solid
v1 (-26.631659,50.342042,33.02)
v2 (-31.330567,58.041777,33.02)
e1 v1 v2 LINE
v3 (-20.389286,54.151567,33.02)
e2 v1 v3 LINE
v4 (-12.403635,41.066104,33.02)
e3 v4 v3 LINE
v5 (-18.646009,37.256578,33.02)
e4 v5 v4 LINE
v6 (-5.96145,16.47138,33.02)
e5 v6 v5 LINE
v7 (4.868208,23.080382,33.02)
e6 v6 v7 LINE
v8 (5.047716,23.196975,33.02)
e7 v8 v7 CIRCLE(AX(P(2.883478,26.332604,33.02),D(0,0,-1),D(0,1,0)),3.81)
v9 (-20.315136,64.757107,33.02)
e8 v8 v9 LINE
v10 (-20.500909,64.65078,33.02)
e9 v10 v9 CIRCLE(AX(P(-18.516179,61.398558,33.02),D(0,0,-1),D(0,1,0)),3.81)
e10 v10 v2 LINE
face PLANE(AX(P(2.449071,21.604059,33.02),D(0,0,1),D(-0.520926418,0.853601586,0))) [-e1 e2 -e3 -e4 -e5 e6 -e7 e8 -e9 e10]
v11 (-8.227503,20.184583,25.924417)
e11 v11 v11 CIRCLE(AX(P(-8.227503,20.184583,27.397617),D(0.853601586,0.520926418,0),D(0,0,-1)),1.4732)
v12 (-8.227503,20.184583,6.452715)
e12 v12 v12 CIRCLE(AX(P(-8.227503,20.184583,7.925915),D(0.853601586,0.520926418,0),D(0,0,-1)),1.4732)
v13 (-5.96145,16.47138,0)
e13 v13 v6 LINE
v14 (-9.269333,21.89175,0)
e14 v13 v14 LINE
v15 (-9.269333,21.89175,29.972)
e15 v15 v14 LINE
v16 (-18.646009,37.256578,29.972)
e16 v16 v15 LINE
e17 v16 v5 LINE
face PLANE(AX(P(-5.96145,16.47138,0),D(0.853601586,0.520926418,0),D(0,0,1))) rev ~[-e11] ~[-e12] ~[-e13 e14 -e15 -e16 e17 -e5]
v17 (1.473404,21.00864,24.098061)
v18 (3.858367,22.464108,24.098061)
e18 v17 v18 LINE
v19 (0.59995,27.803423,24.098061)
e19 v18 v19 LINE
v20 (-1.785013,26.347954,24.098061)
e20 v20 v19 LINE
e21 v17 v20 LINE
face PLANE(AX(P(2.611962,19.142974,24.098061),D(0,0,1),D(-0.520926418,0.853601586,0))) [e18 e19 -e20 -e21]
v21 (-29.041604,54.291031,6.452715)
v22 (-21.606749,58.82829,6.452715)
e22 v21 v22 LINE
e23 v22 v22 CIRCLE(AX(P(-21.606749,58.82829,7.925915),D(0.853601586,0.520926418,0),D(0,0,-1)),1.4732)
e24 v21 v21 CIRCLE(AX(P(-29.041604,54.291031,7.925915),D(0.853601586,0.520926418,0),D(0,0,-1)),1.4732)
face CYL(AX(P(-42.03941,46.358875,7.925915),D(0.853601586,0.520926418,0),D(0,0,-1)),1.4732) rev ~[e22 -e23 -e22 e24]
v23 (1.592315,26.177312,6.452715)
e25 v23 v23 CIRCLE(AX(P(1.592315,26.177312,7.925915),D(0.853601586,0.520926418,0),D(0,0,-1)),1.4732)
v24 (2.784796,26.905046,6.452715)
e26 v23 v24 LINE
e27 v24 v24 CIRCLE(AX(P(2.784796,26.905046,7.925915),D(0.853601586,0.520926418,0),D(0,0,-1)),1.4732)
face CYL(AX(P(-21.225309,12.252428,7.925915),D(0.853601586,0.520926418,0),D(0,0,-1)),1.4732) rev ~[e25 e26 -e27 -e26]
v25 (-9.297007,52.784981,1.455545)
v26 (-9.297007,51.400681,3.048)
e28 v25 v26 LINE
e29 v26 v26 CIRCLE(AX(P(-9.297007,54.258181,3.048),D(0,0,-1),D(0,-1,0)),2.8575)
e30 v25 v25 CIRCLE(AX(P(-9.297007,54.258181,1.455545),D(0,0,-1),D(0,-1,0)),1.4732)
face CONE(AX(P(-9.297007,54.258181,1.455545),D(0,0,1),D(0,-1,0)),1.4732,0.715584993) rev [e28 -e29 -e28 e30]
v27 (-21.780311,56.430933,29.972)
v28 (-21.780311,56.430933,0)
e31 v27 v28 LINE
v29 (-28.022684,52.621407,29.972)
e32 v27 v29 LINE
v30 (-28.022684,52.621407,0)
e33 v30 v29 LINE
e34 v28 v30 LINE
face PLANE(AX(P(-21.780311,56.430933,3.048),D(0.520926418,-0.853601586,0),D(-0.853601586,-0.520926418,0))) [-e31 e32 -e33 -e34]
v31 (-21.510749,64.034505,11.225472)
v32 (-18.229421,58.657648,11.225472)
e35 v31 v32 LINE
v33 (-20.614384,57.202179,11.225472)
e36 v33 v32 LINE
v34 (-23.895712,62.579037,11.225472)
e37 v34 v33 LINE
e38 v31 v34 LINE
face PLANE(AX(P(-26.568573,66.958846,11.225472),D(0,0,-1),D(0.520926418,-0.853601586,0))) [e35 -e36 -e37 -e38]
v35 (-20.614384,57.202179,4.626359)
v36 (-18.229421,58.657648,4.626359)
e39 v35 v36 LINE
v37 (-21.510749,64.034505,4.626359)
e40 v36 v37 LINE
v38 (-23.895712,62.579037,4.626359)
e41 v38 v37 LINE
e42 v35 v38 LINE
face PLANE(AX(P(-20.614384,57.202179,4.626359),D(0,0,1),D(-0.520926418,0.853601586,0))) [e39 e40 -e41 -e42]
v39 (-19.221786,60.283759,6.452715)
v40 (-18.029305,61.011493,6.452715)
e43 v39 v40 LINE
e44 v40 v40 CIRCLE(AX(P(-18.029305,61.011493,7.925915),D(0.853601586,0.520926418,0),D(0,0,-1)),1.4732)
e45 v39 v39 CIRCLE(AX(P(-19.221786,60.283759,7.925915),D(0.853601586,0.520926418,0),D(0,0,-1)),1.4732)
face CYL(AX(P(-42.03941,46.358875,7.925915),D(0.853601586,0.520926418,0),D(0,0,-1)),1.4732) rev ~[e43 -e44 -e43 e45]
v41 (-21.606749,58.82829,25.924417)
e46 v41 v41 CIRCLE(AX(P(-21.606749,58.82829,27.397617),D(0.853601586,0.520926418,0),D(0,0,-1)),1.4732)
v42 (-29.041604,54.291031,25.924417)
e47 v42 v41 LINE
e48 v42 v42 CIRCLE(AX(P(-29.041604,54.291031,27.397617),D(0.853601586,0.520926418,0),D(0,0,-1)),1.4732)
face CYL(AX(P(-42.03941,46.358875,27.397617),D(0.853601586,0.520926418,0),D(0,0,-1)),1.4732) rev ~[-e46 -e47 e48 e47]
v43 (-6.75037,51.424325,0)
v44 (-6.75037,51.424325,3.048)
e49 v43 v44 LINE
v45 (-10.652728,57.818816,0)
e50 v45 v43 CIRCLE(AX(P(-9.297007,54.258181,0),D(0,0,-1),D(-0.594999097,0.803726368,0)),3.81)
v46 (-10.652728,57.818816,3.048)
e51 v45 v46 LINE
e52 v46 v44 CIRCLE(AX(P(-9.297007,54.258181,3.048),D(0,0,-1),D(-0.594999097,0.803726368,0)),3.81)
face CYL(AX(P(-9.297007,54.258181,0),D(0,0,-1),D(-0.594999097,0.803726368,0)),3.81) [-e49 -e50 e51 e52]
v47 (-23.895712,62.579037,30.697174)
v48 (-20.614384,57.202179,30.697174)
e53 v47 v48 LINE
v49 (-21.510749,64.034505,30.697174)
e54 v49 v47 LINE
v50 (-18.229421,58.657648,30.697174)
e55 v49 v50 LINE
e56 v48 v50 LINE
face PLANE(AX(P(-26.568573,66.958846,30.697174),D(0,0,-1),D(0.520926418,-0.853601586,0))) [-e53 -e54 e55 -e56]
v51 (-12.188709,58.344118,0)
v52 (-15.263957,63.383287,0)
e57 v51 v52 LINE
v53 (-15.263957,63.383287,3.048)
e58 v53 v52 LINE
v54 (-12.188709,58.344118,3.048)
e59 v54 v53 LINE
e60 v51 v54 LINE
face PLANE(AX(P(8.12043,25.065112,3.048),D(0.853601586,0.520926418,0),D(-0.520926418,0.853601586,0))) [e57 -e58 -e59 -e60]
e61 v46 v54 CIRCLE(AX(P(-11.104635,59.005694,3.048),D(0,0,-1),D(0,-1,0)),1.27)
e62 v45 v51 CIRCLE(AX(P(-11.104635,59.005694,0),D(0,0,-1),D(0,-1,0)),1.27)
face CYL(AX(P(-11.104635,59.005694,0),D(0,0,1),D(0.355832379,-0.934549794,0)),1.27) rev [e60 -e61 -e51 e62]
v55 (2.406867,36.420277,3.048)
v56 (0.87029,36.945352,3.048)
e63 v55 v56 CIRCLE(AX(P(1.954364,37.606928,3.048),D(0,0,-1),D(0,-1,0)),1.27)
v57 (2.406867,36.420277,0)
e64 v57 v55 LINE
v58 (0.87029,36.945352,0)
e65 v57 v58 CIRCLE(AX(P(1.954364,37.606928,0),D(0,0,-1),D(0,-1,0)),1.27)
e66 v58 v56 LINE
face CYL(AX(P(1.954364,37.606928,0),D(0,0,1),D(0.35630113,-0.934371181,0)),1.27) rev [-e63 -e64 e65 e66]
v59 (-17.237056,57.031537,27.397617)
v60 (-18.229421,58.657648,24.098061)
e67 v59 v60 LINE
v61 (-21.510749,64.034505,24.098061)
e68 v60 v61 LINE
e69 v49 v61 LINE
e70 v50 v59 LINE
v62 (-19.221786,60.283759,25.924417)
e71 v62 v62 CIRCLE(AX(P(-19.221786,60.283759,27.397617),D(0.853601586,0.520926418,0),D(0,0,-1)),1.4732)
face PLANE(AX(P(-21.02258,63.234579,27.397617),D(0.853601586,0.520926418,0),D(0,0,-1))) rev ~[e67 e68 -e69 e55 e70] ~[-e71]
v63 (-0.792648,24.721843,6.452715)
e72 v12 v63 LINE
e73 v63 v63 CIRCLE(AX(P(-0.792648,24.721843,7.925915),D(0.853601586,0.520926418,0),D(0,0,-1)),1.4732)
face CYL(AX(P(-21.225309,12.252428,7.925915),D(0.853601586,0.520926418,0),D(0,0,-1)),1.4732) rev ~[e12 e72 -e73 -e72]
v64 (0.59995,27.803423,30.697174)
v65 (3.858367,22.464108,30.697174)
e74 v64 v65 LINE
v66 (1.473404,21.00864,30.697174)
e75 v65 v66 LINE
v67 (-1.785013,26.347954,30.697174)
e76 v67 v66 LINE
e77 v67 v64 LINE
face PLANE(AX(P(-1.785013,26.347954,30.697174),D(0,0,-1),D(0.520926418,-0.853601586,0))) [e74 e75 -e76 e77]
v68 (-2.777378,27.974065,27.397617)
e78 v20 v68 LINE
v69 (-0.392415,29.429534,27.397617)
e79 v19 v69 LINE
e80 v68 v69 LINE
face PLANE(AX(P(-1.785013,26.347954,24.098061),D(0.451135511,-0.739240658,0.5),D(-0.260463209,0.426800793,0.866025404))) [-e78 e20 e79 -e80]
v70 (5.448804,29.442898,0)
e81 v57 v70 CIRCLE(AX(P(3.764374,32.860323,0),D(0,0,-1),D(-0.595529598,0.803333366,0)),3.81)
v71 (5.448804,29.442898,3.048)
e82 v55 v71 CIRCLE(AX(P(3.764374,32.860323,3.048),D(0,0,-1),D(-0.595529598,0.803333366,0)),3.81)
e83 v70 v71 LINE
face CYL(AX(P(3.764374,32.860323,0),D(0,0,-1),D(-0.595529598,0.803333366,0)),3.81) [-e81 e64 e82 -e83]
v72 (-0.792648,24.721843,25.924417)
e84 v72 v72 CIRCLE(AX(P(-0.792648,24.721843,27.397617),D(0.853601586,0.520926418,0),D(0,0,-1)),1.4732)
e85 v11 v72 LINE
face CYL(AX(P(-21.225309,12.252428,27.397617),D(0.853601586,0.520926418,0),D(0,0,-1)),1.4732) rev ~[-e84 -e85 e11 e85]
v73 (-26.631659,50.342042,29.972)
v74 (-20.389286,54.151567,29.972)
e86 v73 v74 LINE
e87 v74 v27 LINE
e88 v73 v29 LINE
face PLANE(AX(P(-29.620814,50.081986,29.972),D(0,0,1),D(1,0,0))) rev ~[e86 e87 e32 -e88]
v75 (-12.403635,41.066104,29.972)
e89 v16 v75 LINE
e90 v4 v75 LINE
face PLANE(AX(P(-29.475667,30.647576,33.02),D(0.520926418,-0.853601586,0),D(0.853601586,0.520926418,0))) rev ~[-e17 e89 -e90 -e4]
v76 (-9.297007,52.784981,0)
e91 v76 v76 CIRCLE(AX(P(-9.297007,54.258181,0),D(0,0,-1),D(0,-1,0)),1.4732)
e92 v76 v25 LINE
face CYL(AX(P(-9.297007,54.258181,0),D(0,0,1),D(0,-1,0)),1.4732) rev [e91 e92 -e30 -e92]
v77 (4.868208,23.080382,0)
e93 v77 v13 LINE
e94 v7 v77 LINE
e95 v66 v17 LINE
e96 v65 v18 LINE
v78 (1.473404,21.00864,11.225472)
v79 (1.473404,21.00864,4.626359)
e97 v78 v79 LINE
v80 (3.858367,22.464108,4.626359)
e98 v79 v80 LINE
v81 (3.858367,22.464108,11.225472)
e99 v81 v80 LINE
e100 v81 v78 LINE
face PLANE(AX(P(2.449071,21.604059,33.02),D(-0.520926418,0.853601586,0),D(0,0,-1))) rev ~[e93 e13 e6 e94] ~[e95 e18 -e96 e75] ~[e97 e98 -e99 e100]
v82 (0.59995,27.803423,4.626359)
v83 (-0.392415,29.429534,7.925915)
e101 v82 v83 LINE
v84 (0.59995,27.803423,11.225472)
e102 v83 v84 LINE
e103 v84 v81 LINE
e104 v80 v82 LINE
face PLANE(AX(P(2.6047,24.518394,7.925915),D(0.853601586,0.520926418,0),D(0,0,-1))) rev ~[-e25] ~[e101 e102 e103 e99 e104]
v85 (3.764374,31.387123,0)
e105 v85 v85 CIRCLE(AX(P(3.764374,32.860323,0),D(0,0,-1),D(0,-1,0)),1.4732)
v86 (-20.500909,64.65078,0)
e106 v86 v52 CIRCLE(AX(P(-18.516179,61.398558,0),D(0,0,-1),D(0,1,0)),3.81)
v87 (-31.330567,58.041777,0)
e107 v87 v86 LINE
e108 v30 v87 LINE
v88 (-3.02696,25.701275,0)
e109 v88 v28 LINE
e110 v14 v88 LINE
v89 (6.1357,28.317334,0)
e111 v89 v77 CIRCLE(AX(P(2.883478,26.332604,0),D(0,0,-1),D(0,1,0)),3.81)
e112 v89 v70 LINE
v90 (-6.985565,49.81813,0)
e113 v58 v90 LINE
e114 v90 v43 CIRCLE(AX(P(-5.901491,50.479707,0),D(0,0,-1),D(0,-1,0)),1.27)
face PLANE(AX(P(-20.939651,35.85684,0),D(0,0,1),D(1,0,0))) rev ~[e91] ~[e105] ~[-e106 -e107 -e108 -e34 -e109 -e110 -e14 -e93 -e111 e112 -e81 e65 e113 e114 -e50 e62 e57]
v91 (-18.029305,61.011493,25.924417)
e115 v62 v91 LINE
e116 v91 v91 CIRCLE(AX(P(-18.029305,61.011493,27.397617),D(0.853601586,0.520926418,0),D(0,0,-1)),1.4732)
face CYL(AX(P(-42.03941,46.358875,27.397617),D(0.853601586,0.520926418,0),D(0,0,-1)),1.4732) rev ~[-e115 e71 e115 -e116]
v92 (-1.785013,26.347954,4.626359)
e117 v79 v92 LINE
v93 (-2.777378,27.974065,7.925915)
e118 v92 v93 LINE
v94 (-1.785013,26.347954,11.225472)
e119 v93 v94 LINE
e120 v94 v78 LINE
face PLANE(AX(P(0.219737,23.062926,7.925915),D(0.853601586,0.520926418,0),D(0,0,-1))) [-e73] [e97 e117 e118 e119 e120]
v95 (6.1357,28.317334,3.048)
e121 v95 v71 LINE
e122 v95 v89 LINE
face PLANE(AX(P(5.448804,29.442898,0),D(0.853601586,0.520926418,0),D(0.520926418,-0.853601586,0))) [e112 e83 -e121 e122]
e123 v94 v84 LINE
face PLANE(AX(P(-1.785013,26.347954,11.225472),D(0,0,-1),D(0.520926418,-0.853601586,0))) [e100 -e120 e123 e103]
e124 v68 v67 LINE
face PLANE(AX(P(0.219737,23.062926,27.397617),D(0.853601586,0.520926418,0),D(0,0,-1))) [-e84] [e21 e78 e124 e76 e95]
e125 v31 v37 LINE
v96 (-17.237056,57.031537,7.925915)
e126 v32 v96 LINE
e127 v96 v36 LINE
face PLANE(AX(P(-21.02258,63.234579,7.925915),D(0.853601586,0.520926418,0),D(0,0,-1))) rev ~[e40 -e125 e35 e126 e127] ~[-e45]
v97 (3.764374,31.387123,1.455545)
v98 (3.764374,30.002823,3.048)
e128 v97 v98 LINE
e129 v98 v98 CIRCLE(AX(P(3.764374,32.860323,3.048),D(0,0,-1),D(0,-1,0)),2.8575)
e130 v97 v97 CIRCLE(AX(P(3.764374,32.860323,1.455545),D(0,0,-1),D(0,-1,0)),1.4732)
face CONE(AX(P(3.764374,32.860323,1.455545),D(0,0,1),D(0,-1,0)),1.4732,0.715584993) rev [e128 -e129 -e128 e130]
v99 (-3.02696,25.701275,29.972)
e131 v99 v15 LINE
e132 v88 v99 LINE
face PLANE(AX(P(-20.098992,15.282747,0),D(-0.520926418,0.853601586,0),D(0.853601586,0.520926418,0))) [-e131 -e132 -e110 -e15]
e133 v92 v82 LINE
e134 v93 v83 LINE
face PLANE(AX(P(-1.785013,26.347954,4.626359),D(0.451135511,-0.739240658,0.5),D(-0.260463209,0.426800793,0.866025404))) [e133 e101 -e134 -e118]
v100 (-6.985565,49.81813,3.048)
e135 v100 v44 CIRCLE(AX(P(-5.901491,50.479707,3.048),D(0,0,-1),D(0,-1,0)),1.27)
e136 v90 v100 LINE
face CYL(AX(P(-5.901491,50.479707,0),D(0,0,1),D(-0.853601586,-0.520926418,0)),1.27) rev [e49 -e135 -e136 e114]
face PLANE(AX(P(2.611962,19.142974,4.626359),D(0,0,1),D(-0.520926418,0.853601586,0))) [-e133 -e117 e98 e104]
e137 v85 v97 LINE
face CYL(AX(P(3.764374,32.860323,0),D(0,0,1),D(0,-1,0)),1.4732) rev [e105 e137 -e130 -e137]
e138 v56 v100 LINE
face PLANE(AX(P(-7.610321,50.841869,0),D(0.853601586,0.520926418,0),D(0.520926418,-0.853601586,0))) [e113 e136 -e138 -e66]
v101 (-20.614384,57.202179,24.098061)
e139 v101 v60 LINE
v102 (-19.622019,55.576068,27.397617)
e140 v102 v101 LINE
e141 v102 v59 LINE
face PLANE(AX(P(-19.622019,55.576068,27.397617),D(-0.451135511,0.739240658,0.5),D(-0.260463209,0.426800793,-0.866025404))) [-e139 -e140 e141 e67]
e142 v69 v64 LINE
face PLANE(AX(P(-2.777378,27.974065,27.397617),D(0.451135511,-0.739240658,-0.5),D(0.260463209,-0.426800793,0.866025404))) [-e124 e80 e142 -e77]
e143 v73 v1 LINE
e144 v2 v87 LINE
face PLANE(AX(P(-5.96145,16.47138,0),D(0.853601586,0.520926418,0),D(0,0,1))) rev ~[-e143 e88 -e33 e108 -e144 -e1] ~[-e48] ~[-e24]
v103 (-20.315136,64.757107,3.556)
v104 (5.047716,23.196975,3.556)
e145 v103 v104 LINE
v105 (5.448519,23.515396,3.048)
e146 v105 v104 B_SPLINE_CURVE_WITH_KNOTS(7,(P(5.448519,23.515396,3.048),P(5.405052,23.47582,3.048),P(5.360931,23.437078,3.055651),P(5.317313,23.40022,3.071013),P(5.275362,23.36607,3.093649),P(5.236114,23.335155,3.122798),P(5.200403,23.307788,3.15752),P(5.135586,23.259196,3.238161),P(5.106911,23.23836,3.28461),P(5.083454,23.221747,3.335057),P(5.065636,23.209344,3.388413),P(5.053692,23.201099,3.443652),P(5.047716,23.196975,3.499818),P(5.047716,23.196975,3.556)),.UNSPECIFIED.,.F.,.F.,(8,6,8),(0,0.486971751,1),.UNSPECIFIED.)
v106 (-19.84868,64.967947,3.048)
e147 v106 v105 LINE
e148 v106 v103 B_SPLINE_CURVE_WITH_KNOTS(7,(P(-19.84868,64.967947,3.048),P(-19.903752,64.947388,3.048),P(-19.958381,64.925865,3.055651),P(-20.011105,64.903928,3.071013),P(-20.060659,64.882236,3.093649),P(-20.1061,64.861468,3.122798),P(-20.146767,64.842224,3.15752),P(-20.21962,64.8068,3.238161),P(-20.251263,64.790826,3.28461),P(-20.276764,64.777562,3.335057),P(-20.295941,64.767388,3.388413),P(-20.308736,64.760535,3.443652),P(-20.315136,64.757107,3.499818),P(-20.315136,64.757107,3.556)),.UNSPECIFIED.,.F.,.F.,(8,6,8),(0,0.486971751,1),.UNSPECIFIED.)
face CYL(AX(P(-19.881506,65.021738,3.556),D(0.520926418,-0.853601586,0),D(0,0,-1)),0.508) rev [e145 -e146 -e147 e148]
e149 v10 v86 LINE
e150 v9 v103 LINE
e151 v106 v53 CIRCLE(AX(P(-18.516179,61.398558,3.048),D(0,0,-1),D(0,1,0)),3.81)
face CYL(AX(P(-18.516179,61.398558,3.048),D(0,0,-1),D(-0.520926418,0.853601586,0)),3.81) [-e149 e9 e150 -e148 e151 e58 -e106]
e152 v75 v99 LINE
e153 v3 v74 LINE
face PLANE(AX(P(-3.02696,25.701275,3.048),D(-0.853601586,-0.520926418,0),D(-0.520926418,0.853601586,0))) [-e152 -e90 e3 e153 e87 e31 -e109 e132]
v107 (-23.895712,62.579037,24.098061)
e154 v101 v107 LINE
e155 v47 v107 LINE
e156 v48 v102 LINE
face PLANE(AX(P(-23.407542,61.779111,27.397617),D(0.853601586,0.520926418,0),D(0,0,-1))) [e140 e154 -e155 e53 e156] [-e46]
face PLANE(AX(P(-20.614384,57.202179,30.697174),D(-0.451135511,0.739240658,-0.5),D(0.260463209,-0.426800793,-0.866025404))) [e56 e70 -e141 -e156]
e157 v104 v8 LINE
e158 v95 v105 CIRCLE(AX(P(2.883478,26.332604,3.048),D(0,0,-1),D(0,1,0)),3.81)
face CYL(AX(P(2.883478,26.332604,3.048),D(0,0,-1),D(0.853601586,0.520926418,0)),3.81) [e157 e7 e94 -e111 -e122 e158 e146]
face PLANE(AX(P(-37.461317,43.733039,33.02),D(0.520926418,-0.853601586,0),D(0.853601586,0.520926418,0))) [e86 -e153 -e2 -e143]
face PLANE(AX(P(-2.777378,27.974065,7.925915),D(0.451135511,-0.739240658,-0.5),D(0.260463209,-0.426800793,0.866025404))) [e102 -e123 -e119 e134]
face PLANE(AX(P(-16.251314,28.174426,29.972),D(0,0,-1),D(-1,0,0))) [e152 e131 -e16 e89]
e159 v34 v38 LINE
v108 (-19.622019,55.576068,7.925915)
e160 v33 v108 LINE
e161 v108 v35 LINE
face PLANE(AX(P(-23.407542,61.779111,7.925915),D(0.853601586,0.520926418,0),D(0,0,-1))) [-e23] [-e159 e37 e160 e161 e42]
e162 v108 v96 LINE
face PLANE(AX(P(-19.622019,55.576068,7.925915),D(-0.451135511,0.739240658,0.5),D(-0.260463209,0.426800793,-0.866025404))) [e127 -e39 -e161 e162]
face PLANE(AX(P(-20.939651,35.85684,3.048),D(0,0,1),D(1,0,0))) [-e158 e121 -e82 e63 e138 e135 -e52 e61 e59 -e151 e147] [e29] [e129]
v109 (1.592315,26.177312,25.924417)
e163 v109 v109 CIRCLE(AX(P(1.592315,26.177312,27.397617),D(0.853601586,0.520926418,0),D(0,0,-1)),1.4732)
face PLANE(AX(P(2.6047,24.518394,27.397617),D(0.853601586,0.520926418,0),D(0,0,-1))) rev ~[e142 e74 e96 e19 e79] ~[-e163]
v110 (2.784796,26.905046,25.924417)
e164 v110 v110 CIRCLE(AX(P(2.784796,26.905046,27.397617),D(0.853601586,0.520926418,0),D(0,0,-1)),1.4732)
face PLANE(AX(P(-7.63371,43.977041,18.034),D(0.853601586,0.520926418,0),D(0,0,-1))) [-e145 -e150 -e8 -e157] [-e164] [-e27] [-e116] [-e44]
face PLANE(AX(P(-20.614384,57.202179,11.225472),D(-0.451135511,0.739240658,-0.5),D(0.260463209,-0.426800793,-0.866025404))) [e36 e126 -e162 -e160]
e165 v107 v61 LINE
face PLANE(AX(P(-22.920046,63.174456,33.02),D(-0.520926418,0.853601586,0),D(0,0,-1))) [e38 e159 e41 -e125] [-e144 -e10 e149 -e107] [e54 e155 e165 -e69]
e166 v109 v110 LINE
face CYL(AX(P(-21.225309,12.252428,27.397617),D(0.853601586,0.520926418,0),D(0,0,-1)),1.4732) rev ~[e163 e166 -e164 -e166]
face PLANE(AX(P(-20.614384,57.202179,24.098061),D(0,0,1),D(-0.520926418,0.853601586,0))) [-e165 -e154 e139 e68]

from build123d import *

# Parameters (mm, degrees)
BOSS_EXTRUDE1_DEPTH                               = 3.048
BOSS_EXTRUDE2_DEPTH                               = 29.971999999999998
BOSS_EXTRUDE3_DEPTH                               = 3.048
BOSS_EXTRUDE4_DEPTH                               = 3.048
SKETCH13_W                                        = 29.972
SKETCH13_H                                        = 48.7
BOSS_EXTRUDE5_DEPTH                               = 3.048
CSK_FOR_4_FLAT_HEAD_MACHINE_SCREW_100_D           = 2.9464
CSK_FOR_4_FLAT_HEAD_MACHINE_SCREW_100_CSINK_D     = 5.715
CSK_FOR_4_FLAT_HEAD_MACHINE_SCREW_100_CSINK_ANGLE = 100
CUT_EXTRUDE1_DEPTH                                = 1.397
CUT_EXTRUDE1_DEPTH_BACK                           = 1.397
SKETCH15_R                                        = 9.184035329670005
SKETCH15_R_2                                      = 8.124741076595411
SKETCH15_R_3                                      = 8.201451240556812
SKETCH15_R_4                                      = 5.810172256980604
BOSS_EXTRUDE6_DEPTH                               = 3.048
CSK_FOR_4_FLAT_HEAD_MACHINE_SCREW1_AT_2_COUNT     = 2
CSK_FOR_4_FLAT_HEAD_MACHINE_SCREW1_AT_2_PITCH     = 35.474094707842795
CSK_FOR_4_FLAT_HEAD_MACHINE_SCREW1_AT_3_COUNT     = 2
CSK_FOR_4_FLAT_HEAD_MACHINE_SCREW1_AT_3_PITCH     = 43.70753982500484
CSK_FOR_4_FLAT_HEAD_MACHINE_SCREW1_AT_4_COUNT     = 2
CSK_FOR_4_FLAT_HEAD_MACHINE_SCREW1_AT_4_PITCH     = 25.069264350610375
CUT_EXTRUDE2_DEPTH                                = 3.048
FILLET3_R                                         = 3.8099999999999996
FILLET4_R                                         = 1.27
SKETCH21_W                                        = 2.540000000000001
SKETCH21_H                                        = 33.02
CUT_EXTRUDE3_DEPTH                                = 77.47
FILLET5_R                                         = 0.508
FILLET6_R                                         = 0.508
SKETCH22_W                                        = 123.04970813102194
SKETCH22_H                                        = 134.7131875745612
CUT_EXTRUDE4_DEPTH                                = 77.47


with BuildPart() as part:
    # Sketch2 → Boss-Extrude1 (new body)
    with BuildSketch(Plane.XY):
        Polygon((-47.58059551455695, 48.12489153745831), (-22.21147896413696, 6.554494312375088), (5.701292889255674, 23.58878817682547), (-19.667823661164306, 65.1591854019087), align=None)
        Polygon((-38.85234269167306, 46.0124042215628), (-20.098991648241444, 15.282747135258976), (-3.0269599336282123, 25.701275492720985), (-21.78031097705982, 56.430932579024805), align=None, mode=Mode.SUBTRACT)
    extrude(amount=BOSS_EXTRUDE1_DEPTH)

    # Sketch3 → Boss-Extrude2 (add)
    with BuildSketch(Plane.XY.offset(3.048)):
        Polygon((2.4490708476218597, 21.604058524728963), (-22.920045702798127, 63.17445574981219), (-44.328373472923126, 50.10962118955482), (-18.95925692250314, 8.539223964471608), align=None)
        Polygon((-38.85234269167306, 46.0124042215628), (-20.098991648241444, 15.282747135258976), (-3.0269599336282087, 25.701275492720985), (-21.78031097705982, 56.430932579024805), align=None, mode=Mode.SUBTRACT)
    extrude(amount=BOSS_EXTRUDE2_DEPTH)

    # Sketch4 → Boss-Extrude3 (add)
    with BuildSketch(Plane.XY.offset(33.02)):
        Polygon((-38.85234269167306, 46.0124042215628), (-37.46131723814535, 43.733039051773666), (-20.389285523532113, 54.15156740923567), (-21.78031097705982, 56.430932579024805), align=None)
        Polygon((-29.47566716995725, 30.647575678410885), (-12.403635455344016, 41.0661040358729), (-3.0269599336282087, 25.701275492720985), (-20.098991648241444, 15.282747135258976), align=None)
    extrude(amount=-BOSS_EXTRUDE3_DEPTH)

    # Sketch12 → Boss-Extrude4 (add)
    with BuildSketch(Plane.XY.offset(3.048)):
        Polygon((2.4490708476218597, 21.604058524728963), (5.701292889255674, 23.58878817682547), (8.120429940678708, 25.065112049236276), (-17.248686609741274, 66.6355092743195), (-22.920045702798127, 63.17445574981219), align=None)
    extrude(amount=-BOSS_EXTRUDE4_DEPTH)

    # Sketch13 → Boss-Extrude5 (add)
    with BuildSketch(Plane(origin=(11.391019162328917, 6.95158362794815, 0), x_dir=(0, 0, -1), z_dir=(0.8536015857306615, 0.5209264178731006, 0))):
        with Locations((-18.034000000000002, 41.515472911157566)):
            Rectangle(SKETCH13_W, SKETCH13_H)
    extrude(amount=BOSS_EXTRUDE5_DEPTH)

    # CSK for #4 Flat Head Machine Screw (100)2 (through all)
    with Locations(Plane(origin=(-10.017308607796087, -6.113250932309213, 0), x_dir=(0, 0, 1), z_dir=(-0.8536015857306615, -0.5209264178731007, 0))):
        with Locations((27.397617355, 61.471448289), (7.925915452, 61.471448289), (7.925915452, 21.515515982), (27.397617355, 21.515515982)):
            CounterSinkHole(CSK_FOR_4_FLAT_HEAD_MACHINE_SCREW_100_D / 2, CSK_FOR_4_FLAT_HEAD_MACHINE_SCREW_100_CSINK_D / 2, counter_sink_angle=CSK_FOR_4_FLAT_HEAD_MACHINE_SCREW_100_CSINK_ANGLE)

    # Sketch14 → Cut-Extrude1 (cut, two sides: drawn at the far end of the back side and taken through both)
    with BuildSketch(Plane(origin=(11.607833965104508, 7.083898938087922, 0), x_dir=(0, 0, -1), z_dir=(0.8536015857306615, 0.5209264178731005, 0)).offset(-CUT_EXTRUDE1_DEPTH_BACK)):
        Polygon((-30.697174143874744, 19.61051598216394), (-30.697174143874744, 14.979833054183299), (-24.09806056703731, 14.979833054183299), (-24.09806056703731, 19.610515982163985), (-24.098060567037347, 23.42051598216399), (-27.39761735545604, 25.325515982163957), (-30.697174143874758, 23.420515982163952), align=None)
        Polygon((-27.39761735545604, 57.661448288693826), (-24.098060567037333, 59.56644828869383), (-24.098060567037336, 63.37644828869381), (-24.098060567037336, 70.99644828869384), (-30.69717414387474, 70.99644828869384), (-30.69717414387474, 63.37644828869381), (-30.69717414387474, 59.56644828869381), align=None)
        Polygon((-7.925915451689084, 57.661448288693826), (-4.626358663270381, 59.56644828869382), (-4.626358663270402, 63.37644828869381), (-4.626358663270402, 70.99644828869384), (-11.225472240107786, 70.99644828869384), (-11.225472240107786, 63.376448288693766), (-11.225472240107747, 59.566448288693785), align=None)
        Polygon((-7.925915451689081, 25.325515982163946), (-11.225472240107791, 23.42051598216395), (-11.225472240107791, 19.610515982163946), (-11.225472240107791, 14.979833054183299), (-4.626358663270366, 14.979833054183299), (-4.626358663270366, 19.610515982163953), (-4.6263586632703655, 23.420515982163952), align=None)
    extrude(amount=CUT_EXTRUDE1_DEPTH + CUT_EXTRUDE1_DEPTH_BACK, mode=Mode.SUBTRACT)

    # Sketch15 → Boss-Extrude6 (add)
    with BuildSketch(Plane(origin=(0, 0, 0), x_dir=(-1, 0, 0), z_dir=(0, 0, -1))):
        with Locations((9.758086495919196, 54.36124573948299)):
            Circle(SKETCH15_R)
        with Locations((39.927818301519274, 35.58488100974543)):
            Circle(SKETCH15_R_2)
        with Locations((25.610425726235285, 18.04643091882164)):
            Circle(SKETCH15_R_3)
        with Locations((-3.4576236647063787, 32.70568986323082)):
            Circle(SKETCH15_R_4)
    extrude(amount=-BOSS_EXTRUDE6_DEPTH)

    # Sketch19 → CSK for #4 Flat Head Machine Screw1 (revolve, cut)
    with BuildSketch(Plane(origin=(3.764373982237945, 32.86032278852424, 3.048), x_dir=(0, -1, 0), z_dir=(1, 0, 0))):
        Polygon((0, 0), (-7.5e-16, 3.0480000000000023), (1.4731999999999932, 3.0480000000000023), (1.4731999999999934, 1.59245498611605), (2.857499999999999, -1.73e-15), align=None)
    csk_for_4_flat_head_machine_screw1 = revolve(axis=Axis((3.764373982237945, 32.86032278852424, 9.39799999999999), (0, 0, -1)), mode=Mode.SUBTRACT)

    # CSK for #4 Flat Head Machine Screw1 at 2: CSK for #4 Flat Head Machine Screw1 ×2
    with Locations(*[Vector(-0.8506492202713736, -0.5257336816789507, 0) * (i * CSK_FOR_4_FLAT_HEAD_MACHINE_SCREW1_AT_2_PITCH) for i in range(1, CSK_FOR_4_FLAT_HEAD_MACHINE_SCREW1_AT_2_COUNT)]):
        add(csk_for_4_flat_head_machine_screw1, mode=Mode.SUBTRACT)

    # CSK for #4 Flat Head Machine Screw1 at 3: CSK for #4 Flat Head Machine Screw1 ×2
    with Locations(*[Vector(-0.997755305773639, 0.06696528802709796, 0) * (i * CSK_FOR_4_FLAT_HEAD_MACHINE_SCREW1_AT_3_PITCH) for i in range(1, CSK_FOR_4_FLAT_HEAD_MACHINE_SCREW1_AT_3_COUNT)]):
        add(csk_for_4_flat_head_machine_screw1, mode=Mode.SUBTRACT)

    # CSK for #4 Flat Head Machine Screw1 at 4: CSK for #4 Flat Head Machine Screw1 ×2
    with Locations(*[Vector(-0.5210117203175807, 0.8535495224600124, 0) * (i * CSK_FOR_4_FLAT_HEAD_MACHINE_SCREW1_AT_4_PITCH) for i in range(1, CSK_FOR_4_FLAT_HEAD_MACHINE_SCREW1_AT_4_COUNT)]):
        add(csk_for_4_flat_head_machine_screw1, mode=Mode.SUBTRACT)

    # Sketch20 → Cut-Extrude2 (cut)
    with BuildSketch(Plane(origin=(0, 0, 0), x_dir=(-1, 0, 0), z_dir=(0, 0, -1))):
        with BuildLine():
            Line((14.542293121824187, 62.20075286029573), (11.563953125478477, 57.32037886408755))
            ThreePointArc((11.563953125478477, 57.32037886408755), (6.044784522535942, 56.24291105550805), (7.610320649443919, 50.84186897257834))
            Line((7.610320649443919, 50.84186897257834), (-1.4954062126549716, 35.92102291440944))
            ThreePointArc((-1.4954062126549716, 35.92102291440944), (-7.016596023871767, 34.845052440620755), (-5.448804035753348, 29.442897530407524))
            Line((-5.448804035753348, 29.442897530407524), (-6.484295885760952, 27.746117611303884))
            Line((-6.484295885760952, 27.746117611303884), (-6.762670750549963, 27.28996638176623))
            Line((-6.762670750549963, 27.28996638176623), (-14.061950278269341, 31.74448896114331))
            Line((-14.061950278269341, 31.74448896114331), (8.559037851416688, 68.81174198534737))
            Line((8.559037851416688, 68.81174198534737), (14.542293121824187, 65.16034795406075))
            Line((14.542293121824187, 65.16034795406075), (14.542293121824187, 62.20075286029573))
        make_face()
        Polygon((21.78031097705982, 56.430932579024805), (38.85234269167306, 46.0124042215628), (20.098991648241444, 15.282747135258976), (3.0269599336282123, 25.701275492720985), align=None)
        with BuildLine():
            Line((22.21147896413696, 6.554494312375088), (24.781951964671258, 10.766528400207497))
            ThreePointArc((24.781951964671258, 10.766528400207497), (29.66385906245521, 12.225666721445755), (28.72915433514684, 17.23450177808784))
            Line((28.72915433514684, 17.23450177808784), (38.012718373529104, 32.44675577885475))
            ThreePointArc((38.012718373529104, 32.44675577885475), (43.097277822107074, 33.802481129765034), (41.97793801322115, 38.944252653808825))
            Line((41.97793801322115, 38.944252653808825), (47.58059551455695, 48.12489153745831))
            Line((47.58059551455695, 48.12489153745831), (51.80171473929435, 35.787210781861546))
            Line((51.80171473929435, 35.787210781861546), (47.57680035710003, 5.227667032097241))
            Line((47.57680035710003, 5.227667032097241), (22.21147896413696, 6.554494312375088))
        make_face()
    extrude(amount=-CUT_EXTRUDE2_DEPTH, mode=Mode.SUBTRACT)


with BuildPart() as body_2:
    # of the pieces the cut leaves, the one that is kept (cut_extrude2_keep)
    add(part.part.solids().sort_by_distance((-47.580595515, 48.124891537, 0))[0])

    # Fillet3
    fillet3_edges = [body_2.edges().sort_by_distance(p)[0] for p in [
        (-17.248686609741274, 66.6355092743195, 1.524),
        (-47.58059551455695, 48.12489153745831, 1.524),
        (-22.21147896413696, 6.554494312375088, 1.524),
        (8.120429940678708, 25.065112049236276, 1.524),
    ]]
    fillet(fillet3_edges, radius=FILLET3_R)

    # Fillet4
    fillet4_edges = [body_2.edges().sort_by_distance(p)[0] for p in [
        (1.4954062126549714, 35.92102291440944, 1.524),
        (-24.781951964671258, 10.766528400207495, 1.524),
        (-28.72915433514684, 17.23450177808784, 1.524),
        (-38.0127183735291, 32.44675577885475, 1.524),
        (-41.97793801322115, 38.94425265380882, 1.524),
        (-11.563953125478475, 57.320378864087544, 1.524),
        (-7.610320649443917, 50.84186897257834, 1.524),
    ]]
    fillet(fillet4_edges, radius=FILLET4_R)

    # Sketch21 → Cut-Extrude3 (cut)
    with BuildSketch(Plane(origin=(-8.941948314707059, 14.652474896780824, 0), x_dir=(0.8536015857306616, 0.5209264178731006, 0), z_dir=(0.5209264178731005, -0.8536015857306615, 0))):
        with Locations((2.2216732427396275, 16.51)):
            Rectangle(SKETCH21_W, SKETCH21_H)
    extrude(amount=-CUT_EXTRUDE3_DEPTH, mode=Mode.SUBTRACT)


with BuildPart() as cut_extrude3_piece_1:
    # of the separate pieces the step leaves, piece 1, a body of its own (cut_extrude3_pieces)
    add(body_2.part.solids().sort_by_distance((-12.188709065, 58.344117807, 0))[0])

    # Fillet6
    fillet6_edges = [cut_extrude3_piece_1.edges().sort_by_distance(p)[0] for p in [
        (-7.633709794281099, 43.97704085894782, 3.048),
    ]]
    fillet(fillet6_edges, radius=FILLET6_R)


with BuildPart() as cut_extrude3_piece_2:
    # of the separate pieces the step leaves, piece 2, a body of its own (cut_extrude3_pieces)
    add(body_2.part.solids().sort_by_distance((-42.532157132, 39.852408399, 0))[0])

    # Fillet5
    fillet5_edges = [cut_extrude3_piece_2.edges().sort_by_distance(p)[0] for p in [
        (-31.64381519771313, 29.324422577013216, 3.048),
    ]]
    fillet(fillet5_edges, radius=FILLET5_R)

    # Sketch22 → Cut-Extrude4 (cut)
    with BuildSketch(Plane(origin=(2.067982642978631, 1.2620252919381492, 0), x_dir=(0, 0, -1), z_dir=(0.8536015857306616, 0.5209264178731006, 0))):
        with Locations((-42.687564536567926, 74.45417523171726)):
            Rectangle(SKETCH22_W, SKETCH22_H)
    extrude(amount=-CUT_EXTRUDE4_DEPTH, mode=Mode.SUBTRACT)


solid = cut_extrude3_piece_1.part
